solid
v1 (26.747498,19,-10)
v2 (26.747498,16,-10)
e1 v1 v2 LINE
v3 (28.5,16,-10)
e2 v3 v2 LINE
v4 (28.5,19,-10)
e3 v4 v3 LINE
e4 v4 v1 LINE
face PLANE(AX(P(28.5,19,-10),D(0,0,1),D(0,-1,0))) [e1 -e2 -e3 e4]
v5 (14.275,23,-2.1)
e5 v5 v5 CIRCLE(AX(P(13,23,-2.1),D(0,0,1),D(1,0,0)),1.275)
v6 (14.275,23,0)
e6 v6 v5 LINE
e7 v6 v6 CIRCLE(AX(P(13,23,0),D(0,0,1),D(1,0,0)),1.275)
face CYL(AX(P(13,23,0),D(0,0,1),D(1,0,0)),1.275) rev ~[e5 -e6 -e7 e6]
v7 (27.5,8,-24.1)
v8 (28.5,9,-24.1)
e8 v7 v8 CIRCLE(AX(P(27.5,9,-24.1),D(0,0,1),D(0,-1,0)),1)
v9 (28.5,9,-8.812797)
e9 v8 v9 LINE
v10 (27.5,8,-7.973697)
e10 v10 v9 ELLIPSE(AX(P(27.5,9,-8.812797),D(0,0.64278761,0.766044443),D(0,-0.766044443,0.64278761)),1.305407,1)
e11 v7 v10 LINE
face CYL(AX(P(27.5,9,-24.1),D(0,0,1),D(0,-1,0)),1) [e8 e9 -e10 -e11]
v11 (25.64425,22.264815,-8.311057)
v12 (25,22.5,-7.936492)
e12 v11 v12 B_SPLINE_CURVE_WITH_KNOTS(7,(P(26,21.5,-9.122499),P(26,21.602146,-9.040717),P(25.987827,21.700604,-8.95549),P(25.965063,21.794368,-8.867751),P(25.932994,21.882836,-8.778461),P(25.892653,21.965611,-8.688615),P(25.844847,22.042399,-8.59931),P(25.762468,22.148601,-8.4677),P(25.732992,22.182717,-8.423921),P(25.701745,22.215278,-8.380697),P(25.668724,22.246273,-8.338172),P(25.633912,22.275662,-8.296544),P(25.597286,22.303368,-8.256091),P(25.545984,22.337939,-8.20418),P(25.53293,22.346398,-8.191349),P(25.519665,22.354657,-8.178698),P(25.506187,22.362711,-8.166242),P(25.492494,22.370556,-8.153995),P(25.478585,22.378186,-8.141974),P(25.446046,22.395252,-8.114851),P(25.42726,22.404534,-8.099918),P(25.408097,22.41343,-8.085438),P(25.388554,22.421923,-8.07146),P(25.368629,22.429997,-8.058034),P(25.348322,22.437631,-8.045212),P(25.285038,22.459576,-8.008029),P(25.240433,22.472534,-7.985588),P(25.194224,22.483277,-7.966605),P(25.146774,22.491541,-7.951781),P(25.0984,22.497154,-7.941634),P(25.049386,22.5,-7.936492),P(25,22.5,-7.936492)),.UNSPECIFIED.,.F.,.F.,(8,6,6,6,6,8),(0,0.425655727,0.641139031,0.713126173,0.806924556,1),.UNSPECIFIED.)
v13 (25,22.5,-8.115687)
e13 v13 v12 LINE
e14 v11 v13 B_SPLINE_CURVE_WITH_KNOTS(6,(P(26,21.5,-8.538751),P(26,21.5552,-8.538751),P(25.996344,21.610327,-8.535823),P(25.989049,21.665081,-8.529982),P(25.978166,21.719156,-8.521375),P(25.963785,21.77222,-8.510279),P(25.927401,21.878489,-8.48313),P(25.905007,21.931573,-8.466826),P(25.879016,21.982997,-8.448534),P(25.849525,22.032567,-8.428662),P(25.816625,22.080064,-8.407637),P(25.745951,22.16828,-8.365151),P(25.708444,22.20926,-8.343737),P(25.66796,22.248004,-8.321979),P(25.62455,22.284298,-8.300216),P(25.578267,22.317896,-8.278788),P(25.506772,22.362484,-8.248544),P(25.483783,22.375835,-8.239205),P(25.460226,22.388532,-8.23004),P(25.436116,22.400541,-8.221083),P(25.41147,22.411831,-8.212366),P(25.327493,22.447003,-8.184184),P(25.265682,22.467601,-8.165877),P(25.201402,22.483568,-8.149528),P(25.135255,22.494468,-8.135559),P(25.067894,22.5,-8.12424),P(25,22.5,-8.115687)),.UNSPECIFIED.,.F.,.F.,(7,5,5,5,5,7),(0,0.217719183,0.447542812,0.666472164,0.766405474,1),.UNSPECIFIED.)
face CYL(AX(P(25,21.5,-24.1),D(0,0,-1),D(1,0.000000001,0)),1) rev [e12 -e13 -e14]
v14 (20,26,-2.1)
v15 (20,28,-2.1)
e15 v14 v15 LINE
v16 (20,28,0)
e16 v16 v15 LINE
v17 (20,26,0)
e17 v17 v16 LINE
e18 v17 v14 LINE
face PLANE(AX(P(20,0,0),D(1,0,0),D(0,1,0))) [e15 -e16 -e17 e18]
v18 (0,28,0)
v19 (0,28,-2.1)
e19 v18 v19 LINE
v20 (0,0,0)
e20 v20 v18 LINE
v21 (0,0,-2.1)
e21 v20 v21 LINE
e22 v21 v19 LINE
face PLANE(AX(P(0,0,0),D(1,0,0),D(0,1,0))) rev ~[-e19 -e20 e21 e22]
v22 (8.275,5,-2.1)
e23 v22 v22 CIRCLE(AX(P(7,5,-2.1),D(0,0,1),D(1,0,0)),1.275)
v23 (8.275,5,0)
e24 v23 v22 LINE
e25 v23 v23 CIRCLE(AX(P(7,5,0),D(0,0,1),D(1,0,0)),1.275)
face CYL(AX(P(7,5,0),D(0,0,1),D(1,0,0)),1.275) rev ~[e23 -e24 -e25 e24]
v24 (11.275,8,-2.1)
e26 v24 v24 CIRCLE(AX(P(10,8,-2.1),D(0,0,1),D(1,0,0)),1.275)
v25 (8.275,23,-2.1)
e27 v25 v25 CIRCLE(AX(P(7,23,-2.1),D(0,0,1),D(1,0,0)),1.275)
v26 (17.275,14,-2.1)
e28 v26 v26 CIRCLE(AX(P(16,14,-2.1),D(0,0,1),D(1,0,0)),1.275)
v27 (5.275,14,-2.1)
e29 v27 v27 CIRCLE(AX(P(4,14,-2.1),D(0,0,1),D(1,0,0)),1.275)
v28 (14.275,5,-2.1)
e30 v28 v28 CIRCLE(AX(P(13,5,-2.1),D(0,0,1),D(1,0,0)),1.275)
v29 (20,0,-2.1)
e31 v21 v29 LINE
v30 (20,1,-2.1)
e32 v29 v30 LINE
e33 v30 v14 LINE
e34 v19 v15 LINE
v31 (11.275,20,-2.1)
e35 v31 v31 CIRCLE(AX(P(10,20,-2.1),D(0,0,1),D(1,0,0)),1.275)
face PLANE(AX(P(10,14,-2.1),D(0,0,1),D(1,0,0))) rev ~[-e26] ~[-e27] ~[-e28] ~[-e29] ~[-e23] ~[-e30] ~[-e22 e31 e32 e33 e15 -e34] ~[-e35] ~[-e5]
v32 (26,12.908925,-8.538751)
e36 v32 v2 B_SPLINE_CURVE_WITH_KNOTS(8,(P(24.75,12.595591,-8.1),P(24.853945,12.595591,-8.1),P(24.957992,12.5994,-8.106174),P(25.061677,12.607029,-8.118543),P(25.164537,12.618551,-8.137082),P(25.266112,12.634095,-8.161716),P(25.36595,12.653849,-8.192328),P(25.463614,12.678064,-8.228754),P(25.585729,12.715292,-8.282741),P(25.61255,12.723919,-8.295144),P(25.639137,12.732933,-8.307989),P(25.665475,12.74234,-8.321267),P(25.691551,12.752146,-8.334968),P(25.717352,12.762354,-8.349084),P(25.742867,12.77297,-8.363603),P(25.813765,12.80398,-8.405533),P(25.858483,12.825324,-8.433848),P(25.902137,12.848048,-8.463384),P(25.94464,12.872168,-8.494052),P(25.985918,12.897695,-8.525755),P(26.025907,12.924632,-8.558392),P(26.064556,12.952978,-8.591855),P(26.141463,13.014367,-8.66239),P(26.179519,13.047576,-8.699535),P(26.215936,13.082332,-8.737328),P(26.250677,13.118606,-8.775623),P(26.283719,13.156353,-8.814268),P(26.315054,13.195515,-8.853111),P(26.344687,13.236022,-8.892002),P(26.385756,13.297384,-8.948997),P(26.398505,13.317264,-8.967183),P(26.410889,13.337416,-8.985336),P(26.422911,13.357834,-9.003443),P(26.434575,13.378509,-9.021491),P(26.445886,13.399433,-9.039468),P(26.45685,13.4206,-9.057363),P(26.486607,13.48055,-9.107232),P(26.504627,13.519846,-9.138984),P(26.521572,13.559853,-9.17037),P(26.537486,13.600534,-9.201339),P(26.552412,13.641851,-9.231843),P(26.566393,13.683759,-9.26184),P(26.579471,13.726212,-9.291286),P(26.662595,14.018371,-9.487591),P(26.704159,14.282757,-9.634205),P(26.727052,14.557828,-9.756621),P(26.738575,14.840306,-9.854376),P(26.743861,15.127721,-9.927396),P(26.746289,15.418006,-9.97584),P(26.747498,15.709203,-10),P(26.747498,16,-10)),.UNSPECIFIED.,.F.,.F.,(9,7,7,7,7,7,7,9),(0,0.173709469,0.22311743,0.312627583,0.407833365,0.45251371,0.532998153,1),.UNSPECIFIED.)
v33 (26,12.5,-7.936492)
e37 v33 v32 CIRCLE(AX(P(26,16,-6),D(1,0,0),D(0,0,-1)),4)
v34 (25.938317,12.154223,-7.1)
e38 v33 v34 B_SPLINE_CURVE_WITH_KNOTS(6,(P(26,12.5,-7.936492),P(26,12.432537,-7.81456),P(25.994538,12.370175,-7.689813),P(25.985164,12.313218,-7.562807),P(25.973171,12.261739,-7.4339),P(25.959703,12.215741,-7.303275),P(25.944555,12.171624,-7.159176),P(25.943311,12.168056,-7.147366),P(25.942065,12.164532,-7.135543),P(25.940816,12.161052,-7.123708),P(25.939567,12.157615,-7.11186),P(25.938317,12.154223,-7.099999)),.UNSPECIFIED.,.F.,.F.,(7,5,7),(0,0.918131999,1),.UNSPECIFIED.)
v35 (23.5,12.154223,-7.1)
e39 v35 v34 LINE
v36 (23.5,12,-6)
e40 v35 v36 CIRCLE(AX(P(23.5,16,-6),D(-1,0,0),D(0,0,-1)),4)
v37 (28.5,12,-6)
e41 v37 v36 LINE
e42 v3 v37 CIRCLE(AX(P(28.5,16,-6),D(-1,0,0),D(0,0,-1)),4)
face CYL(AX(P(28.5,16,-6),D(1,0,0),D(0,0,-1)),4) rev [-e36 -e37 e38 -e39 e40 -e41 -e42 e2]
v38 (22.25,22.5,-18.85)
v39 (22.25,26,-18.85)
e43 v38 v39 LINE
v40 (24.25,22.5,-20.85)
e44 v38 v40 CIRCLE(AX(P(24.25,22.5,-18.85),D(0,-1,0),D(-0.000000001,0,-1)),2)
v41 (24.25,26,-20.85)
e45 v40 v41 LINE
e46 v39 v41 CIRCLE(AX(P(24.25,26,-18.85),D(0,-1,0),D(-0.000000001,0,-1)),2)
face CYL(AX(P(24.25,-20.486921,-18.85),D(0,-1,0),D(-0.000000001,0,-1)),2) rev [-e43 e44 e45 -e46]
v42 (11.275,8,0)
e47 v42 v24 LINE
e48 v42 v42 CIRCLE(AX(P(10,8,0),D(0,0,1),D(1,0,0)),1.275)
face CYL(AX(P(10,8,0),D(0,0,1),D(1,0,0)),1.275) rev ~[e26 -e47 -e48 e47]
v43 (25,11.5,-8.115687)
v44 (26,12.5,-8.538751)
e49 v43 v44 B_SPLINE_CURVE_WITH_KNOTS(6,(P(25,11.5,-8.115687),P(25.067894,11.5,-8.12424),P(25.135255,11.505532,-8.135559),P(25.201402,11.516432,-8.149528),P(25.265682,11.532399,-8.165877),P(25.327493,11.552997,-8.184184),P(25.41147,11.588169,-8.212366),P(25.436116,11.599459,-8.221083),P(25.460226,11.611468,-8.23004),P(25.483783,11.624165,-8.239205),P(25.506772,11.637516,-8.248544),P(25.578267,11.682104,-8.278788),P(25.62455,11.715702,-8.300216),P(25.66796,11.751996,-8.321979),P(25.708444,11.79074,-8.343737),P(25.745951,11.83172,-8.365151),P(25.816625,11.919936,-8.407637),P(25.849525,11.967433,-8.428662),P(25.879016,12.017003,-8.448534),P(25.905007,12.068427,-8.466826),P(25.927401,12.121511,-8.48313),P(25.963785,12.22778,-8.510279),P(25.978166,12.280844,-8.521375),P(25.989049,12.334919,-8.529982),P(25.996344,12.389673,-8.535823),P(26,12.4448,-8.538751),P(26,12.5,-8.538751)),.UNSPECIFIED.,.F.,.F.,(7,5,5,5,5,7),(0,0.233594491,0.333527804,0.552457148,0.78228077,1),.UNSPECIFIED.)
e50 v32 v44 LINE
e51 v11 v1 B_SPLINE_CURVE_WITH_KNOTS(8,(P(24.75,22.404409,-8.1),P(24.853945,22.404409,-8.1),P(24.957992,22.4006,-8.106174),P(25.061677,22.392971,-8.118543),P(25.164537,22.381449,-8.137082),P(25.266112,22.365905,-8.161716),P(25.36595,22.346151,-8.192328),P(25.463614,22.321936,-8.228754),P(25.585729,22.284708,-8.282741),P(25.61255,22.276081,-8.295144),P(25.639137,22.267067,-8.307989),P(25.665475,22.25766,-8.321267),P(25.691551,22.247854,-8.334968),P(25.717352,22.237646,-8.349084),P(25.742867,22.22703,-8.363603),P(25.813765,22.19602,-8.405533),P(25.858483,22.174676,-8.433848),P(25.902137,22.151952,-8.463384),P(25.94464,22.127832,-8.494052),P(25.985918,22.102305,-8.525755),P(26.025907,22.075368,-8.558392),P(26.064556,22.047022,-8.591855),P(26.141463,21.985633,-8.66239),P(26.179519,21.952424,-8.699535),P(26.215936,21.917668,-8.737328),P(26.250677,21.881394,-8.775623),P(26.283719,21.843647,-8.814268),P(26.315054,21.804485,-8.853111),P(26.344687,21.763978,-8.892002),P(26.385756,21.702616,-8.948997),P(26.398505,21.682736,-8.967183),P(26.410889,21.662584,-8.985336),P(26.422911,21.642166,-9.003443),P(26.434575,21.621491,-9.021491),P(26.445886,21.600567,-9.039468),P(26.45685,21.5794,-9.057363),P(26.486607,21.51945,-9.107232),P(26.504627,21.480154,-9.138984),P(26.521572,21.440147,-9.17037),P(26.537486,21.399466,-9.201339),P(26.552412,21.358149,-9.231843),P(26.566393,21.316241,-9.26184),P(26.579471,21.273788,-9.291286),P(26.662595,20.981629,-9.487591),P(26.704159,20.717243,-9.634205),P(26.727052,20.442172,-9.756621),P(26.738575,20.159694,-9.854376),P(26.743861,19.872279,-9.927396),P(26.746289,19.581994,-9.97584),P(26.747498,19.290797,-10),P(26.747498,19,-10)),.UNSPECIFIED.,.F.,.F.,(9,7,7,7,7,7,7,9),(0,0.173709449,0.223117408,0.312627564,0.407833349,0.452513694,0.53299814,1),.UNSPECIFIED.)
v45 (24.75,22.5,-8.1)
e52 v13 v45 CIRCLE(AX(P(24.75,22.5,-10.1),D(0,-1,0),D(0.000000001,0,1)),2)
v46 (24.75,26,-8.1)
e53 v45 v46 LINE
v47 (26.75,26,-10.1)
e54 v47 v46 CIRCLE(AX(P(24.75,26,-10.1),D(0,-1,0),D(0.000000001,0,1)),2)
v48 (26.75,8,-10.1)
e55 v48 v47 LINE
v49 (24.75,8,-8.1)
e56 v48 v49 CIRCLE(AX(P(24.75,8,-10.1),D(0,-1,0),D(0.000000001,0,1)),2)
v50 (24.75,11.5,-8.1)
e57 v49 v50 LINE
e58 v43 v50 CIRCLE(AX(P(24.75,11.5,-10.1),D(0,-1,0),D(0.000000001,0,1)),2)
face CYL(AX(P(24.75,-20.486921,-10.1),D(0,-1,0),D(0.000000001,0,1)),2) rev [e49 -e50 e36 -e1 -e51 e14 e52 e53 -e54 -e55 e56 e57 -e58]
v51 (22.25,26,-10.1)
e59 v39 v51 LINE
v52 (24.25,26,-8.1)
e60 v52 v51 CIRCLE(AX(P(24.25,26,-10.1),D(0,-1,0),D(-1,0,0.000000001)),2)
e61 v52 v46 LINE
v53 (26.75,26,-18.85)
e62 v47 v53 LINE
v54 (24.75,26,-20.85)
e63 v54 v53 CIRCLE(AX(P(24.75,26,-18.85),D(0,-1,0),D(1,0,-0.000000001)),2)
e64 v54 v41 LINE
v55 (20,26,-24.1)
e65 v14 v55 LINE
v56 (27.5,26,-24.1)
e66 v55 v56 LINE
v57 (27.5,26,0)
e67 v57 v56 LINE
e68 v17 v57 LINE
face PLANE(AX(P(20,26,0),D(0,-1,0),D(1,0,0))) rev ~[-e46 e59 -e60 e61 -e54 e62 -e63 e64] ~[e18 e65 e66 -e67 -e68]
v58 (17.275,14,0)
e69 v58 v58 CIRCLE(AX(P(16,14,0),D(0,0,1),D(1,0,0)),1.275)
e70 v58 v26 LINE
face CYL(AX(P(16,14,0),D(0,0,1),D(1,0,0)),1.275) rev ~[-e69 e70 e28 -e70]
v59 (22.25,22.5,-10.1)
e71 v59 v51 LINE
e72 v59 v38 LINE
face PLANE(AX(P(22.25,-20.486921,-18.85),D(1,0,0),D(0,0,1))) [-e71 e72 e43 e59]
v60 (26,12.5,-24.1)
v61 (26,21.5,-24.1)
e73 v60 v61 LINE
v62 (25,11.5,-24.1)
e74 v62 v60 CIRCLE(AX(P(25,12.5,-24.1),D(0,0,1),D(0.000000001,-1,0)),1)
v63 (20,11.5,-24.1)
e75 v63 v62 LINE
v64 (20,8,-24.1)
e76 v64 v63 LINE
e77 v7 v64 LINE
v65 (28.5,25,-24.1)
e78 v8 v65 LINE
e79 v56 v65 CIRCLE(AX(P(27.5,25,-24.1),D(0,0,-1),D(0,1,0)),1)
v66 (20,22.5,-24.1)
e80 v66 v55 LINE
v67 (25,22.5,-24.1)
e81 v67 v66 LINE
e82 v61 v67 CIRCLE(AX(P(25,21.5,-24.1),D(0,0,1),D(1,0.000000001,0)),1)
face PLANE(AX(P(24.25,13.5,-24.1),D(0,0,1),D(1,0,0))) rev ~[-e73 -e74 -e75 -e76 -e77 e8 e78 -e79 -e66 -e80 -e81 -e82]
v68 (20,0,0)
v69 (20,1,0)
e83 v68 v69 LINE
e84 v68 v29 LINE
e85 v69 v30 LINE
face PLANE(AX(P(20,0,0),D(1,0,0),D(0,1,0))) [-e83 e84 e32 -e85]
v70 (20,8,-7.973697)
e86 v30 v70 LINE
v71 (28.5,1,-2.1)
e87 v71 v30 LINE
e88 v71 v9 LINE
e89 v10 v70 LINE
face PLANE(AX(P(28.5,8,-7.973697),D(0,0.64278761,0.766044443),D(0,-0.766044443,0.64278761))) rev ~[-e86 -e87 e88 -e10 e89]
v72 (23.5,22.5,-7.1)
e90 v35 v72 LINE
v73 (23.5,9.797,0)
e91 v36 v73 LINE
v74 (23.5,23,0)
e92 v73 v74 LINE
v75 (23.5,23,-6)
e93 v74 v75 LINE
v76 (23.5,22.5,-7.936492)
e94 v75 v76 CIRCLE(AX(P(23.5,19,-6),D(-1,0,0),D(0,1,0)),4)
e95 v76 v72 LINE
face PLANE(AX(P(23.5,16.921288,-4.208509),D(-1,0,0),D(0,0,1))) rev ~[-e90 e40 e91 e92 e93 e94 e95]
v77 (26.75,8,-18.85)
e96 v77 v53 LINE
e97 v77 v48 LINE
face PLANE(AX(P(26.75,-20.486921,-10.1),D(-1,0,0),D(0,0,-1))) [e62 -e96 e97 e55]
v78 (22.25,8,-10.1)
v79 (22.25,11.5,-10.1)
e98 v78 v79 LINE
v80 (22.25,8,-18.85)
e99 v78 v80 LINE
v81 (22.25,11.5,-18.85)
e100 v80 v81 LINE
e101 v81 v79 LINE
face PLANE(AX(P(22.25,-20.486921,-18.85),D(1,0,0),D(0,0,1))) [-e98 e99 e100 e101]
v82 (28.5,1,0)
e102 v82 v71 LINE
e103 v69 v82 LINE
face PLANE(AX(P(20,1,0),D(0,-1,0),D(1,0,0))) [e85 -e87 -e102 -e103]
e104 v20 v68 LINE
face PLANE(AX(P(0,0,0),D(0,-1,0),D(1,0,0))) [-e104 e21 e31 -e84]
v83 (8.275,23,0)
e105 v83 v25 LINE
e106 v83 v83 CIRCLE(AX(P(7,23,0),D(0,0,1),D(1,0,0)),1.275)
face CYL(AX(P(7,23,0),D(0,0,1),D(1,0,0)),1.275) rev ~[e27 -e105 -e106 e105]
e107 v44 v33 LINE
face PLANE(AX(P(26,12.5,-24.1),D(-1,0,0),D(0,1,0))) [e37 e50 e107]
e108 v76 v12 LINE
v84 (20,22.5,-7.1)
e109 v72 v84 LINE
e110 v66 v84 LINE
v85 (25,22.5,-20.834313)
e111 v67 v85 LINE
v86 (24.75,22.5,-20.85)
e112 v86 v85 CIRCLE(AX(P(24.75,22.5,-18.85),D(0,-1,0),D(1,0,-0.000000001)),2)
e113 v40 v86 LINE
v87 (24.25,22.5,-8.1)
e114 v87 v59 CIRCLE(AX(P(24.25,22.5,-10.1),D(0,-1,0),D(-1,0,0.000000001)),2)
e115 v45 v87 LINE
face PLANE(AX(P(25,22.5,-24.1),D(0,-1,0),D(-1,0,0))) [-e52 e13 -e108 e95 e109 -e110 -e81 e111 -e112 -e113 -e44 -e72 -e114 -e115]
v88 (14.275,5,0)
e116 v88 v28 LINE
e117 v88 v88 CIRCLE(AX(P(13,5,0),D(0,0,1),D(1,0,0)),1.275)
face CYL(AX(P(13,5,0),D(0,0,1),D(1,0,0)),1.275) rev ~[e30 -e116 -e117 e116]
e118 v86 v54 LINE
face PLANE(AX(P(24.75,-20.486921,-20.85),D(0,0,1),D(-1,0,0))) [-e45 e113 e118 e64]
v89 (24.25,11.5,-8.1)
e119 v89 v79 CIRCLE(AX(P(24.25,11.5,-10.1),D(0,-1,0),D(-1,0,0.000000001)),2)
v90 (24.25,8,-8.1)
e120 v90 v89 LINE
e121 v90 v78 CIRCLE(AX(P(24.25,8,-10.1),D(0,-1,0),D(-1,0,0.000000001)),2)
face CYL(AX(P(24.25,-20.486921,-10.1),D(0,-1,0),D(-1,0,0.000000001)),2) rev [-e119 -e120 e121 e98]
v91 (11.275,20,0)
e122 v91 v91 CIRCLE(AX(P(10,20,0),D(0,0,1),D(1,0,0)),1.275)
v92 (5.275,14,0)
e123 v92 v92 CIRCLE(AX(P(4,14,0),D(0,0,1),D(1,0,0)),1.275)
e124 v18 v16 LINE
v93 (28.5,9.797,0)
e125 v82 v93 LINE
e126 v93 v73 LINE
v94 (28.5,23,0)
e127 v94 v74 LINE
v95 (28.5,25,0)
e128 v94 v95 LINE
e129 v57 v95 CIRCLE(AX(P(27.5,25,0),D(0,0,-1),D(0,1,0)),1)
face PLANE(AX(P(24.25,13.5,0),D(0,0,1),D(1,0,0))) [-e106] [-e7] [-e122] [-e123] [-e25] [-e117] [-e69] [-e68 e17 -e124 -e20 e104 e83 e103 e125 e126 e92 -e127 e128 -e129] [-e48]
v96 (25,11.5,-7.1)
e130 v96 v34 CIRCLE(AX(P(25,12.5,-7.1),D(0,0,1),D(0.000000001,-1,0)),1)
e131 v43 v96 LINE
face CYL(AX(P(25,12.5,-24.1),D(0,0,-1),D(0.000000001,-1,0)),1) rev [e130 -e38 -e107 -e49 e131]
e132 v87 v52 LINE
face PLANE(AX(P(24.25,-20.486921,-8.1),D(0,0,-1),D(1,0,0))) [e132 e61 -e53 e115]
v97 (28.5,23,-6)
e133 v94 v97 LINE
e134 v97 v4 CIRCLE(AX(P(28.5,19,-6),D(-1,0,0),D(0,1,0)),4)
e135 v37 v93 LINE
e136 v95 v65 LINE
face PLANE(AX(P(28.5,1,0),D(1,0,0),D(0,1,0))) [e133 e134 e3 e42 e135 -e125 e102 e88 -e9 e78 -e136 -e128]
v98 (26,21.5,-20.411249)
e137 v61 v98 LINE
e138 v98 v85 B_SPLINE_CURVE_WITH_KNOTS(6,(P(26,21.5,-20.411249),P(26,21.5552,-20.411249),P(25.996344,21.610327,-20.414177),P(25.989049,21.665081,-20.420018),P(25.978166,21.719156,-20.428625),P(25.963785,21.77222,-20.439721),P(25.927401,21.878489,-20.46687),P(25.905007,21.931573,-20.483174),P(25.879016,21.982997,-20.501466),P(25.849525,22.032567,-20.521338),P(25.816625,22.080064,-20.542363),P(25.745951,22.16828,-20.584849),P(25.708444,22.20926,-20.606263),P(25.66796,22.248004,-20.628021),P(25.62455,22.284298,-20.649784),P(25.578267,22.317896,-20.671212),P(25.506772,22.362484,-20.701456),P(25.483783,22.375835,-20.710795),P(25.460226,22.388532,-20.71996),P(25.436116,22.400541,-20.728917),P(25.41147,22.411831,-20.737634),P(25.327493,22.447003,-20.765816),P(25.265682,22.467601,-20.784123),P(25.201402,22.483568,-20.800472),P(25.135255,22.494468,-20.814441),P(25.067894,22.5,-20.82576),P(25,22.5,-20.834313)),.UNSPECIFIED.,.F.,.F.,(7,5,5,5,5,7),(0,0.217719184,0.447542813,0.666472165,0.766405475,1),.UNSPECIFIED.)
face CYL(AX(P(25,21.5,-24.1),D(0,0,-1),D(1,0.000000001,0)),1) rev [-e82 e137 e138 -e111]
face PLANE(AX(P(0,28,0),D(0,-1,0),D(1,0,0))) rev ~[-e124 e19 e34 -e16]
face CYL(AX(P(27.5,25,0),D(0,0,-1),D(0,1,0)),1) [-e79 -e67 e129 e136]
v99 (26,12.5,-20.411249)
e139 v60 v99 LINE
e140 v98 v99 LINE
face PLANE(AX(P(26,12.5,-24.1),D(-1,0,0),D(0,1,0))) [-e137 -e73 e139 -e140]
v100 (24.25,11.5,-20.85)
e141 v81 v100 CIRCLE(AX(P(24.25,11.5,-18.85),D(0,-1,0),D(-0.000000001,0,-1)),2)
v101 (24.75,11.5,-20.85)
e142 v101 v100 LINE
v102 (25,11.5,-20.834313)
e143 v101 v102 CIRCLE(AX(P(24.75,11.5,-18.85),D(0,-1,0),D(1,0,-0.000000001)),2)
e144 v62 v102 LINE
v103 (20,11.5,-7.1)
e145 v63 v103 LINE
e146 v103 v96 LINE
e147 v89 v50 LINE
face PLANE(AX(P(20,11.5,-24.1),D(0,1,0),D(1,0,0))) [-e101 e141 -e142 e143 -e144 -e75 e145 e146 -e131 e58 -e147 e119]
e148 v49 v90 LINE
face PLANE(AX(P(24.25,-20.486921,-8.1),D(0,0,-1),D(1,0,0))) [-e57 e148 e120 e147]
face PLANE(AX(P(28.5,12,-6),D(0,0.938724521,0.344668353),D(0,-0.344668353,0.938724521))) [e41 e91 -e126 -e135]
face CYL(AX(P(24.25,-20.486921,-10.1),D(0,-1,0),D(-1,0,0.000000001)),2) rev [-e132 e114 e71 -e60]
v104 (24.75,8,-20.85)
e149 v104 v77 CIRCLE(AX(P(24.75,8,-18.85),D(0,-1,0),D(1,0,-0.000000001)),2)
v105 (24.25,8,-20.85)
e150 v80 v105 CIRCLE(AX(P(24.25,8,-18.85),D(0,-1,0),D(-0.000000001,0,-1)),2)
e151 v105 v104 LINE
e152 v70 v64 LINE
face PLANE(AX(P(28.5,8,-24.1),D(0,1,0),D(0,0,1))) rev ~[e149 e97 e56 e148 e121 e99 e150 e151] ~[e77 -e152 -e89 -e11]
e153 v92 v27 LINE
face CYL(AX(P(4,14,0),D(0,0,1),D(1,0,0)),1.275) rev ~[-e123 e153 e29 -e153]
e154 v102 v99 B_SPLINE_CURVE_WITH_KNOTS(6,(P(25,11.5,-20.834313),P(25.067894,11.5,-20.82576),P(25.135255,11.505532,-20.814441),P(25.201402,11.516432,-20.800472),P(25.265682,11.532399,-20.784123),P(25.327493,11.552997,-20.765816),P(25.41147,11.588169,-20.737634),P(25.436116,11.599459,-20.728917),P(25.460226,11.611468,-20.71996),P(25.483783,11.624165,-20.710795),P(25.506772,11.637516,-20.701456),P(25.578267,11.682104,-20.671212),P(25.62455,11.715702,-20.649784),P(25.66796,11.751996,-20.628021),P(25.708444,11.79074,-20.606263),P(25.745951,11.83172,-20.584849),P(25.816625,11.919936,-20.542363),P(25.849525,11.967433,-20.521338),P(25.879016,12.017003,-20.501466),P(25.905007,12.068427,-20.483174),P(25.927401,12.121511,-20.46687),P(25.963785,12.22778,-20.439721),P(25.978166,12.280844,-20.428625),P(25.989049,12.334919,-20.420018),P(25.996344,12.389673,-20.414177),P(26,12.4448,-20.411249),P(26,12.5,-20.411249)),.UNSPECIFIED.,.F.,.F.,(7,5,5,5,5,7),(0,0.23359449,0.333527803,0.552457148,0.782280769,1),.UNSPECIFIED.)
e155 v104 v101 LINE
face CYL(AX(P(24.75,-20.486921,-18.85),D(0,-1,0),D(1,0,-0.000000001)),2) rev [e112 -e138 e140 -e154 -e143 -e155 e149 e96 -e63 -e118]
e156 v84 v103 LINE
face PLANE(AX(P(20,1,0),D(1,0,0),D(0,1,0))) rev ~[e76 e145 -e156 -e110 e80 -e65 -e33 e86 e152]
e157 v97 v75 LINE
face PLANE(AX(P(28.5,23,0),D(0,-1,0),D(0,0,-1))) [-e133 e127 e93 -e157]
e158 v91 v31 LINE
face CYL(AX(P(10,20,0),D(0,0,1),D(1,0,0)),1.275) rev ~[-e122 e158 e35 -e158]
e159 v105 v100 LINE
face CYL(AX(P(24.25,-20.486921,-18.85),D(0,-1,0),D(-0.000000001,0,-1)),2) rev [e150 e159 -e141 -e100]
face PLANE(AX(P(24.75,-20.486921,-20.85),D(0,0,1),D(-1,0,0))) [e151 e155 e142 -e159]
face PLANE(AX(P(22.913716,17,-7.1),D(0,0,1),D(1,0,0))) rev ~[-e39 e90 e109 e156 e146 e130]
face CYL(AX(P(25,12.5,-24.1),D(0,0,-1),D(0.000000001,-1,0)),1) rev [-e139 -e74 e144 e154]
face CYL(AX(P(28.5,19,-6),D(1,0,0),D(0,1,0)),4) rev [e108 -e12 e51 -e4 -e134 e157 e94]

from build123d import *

# Parameters (mm, degrees)
SKETCH1_R               = 1.275
BOSS_EXTRUDE1_DEPTH     = 2.1
SKETCH1_3_W             = 8.5
SKETCH1_3_H             = 25
BOSS_EXTRUDE2_DEPTH     = 24.1
CUT_EXTRUDE1_DEPTH      = 5
CUT_EXTRUDE2_DEPTH      = 46.486921197
CUT_EXTRUDE2_DEPTH_BACK = 46.486921197
CUT_EXTRUDE3_DEPTH      = 17
CUT_EXTRUDE4_REACH      = 48.659
FILLET1_R               = 1


with BuildPart() as part:
    # Sketch1 → Boss-Extrude1 (new body)
    with BuildSketch(Plane.XY):
        Polygon((0, 28), (0, 0), (20, 0), (20, 1), (20, 26), (20, 28), align=None)
        with Locations((7, 5)):
            Circle(SKETCH1_R, mode=Mode.SUBTRACT)
        with Locations((13, 5)):
            Circle(SKETCH1_R, mode=Mode.SUBTRACT)
        with Locations((10, 8)):
            Circle(SKETCH1_R, mode=Mode.SUBTRACT)
        with Locations((4, 14)):
            Circle(SKETCH1_R, mode=Mode.SUBTRACT)
        with Locations((10, 20)):
            Circle(SKETCH1_R, mode=Mode.SUBTRACT)
        with Locations((7, 23)):
            Circle(SKETCH1_R, mode=Mode.SUBTRACT)
        with Locations((13, 23)):
            Circle(SKETCH1_R, mode=Mode.SUBTRACT)
        with Locations((16, 14)):
            Circle(SKETCH1_R, mode=Mode.SUBTRACT)
    extrude(amount=-BOSS_EXTRUDE1_DEPTH)

    # Sketch1<3> → Boss-Extrude2 (add)
    with BuildSketch(Plane.XY):
        with Locations((24.25, 13.5)):
            Rectangle(SKETCH1_3_W, SKETCH1_3_H)
    extrude(amount=-BOSS_EXTRUDE2_DEPTH)

    # Sketch2 → Cut-Extrude1 (cut)
    with BuildSketch(Plane(origin=(28.5, 0, 0), x_dir=(0, 0, -1), z_dir=(1, 0, 0))):
        with BuildLine():
            Line((0, 23), (6, 23))
            ThreePointArc((6, 23), (8.828427125, 21.828427125), (10, 19))
            Line((10, 19), (10, 16))
            ThreePointArc((10, 16), (8.828427125, 13.171572875), (6, 12))
            Line((6, 12), (0, 9.797))
            Line((0, 9.797), (0, 23))
        make_face()
    extrude(amount=-CUT_EXTRUDE1_DEPTH, mode=Mode.SUBTRACT)

    # Sketch3 → Cut-Extrude2 (cut, two sides: drawn at the far end of the back side and taken through both)
    with BuildSketch(Plane(origin=(0, 26, 0), x_dir=(1, 0, 0), z_dir=(0, 1, 0)).offset(-CUT_EXTRUDE2_DEPTH_BACK)):
        with BuildLine():
            Line((24.75, 20.85), (24.25, 20.85))
            ThreePointArc((24.25, 20.85), (22.835786438, 20.264213562), (22.25, 18.85))
            Line((22.25, 18.85), (22.25, 10.1))
            ThreePointArc((22.25, 10.1), (22.835786438, 8.685786438), (24.25, 8.1))
            Line((24.25, 8.1), (24.75, 8.1))
            ThreePointArc((24.75, 8.1), (26.164213562, 8.685786438), (26.75, 10.1))
            Line((26.75, 10.1), (26.75, 18.85))
            ThreePointArc((26.75, 18.85), (26.164213562, 20.264213562), (24.75, 20.85))
        make_face()
    extrude(amount=CUT_EXTRUDE2_DEPTH + CUT_EXTRUDE2_DEPTH_BACK, mode=Mode.SUBTRACT)

    # Sketch4 → Cut-Extrude3 (cut)
    with BuildSketch(Plane(origin=(0, 0, -24.1), x_dir=(-1, 0, 0), z_dir=(0, 0, -1))):
        with BuildLine():
            Line((-20, 11.5), (-25, 11.5))
            ThreePointArc((-25, 11.5), (-25.707106781, 11.792893219), (-26, 12.5))
            Line((-26, 12.5), (-26, 21.5))
            ThreePointArc((-26, 21.5), (-25.707106781, 22.207106781), (-25, 22.5))
            Line((-25, 22.5), (-20, 22.5))
            Line((-20, 22.5), (-20, 11.5))
        make_face()
    extrude(amount=-CUT_EXTRUDE3_DEPTH, mode=Mode.SUBTRACT)

    # Sketch6 → Cut-Extrude4 (cut, up to next)
    with BuildSketch(Plane(origin=(28.5, 0, 0), x_dir=(0, 0, -1), z_dir=(1, 0, 0)), mode=Mode.PRIVATE) as cut_extrude4_sk1:
        Polygon((2.1, 1), (24.1, 1), (24.1, 8), (7.973697418, 8), align=None)
    cut_extrude4_tool1 = extrude(cut_extrude4_sk1.sketch, amount=-CUT_EXTRUDE4_REACH, mode=Mode.PRIVATE) & part.part
    add(cut_extrude4_tool1.solids().sort_by_distance((28.5, 4.320265, -14.493016))[0], mode=Mode.SUBTRACT)

    # Fillet1
    fillet1_edges = [part.edges().sort_by_distance(p)[0] for p in [
        (28.5, 8, -16.036848709),
        (28.5, 26, -12.05),
    ]]
    fillet(fillet1_edges, radius=FILLET1_R)


solid = part.part
